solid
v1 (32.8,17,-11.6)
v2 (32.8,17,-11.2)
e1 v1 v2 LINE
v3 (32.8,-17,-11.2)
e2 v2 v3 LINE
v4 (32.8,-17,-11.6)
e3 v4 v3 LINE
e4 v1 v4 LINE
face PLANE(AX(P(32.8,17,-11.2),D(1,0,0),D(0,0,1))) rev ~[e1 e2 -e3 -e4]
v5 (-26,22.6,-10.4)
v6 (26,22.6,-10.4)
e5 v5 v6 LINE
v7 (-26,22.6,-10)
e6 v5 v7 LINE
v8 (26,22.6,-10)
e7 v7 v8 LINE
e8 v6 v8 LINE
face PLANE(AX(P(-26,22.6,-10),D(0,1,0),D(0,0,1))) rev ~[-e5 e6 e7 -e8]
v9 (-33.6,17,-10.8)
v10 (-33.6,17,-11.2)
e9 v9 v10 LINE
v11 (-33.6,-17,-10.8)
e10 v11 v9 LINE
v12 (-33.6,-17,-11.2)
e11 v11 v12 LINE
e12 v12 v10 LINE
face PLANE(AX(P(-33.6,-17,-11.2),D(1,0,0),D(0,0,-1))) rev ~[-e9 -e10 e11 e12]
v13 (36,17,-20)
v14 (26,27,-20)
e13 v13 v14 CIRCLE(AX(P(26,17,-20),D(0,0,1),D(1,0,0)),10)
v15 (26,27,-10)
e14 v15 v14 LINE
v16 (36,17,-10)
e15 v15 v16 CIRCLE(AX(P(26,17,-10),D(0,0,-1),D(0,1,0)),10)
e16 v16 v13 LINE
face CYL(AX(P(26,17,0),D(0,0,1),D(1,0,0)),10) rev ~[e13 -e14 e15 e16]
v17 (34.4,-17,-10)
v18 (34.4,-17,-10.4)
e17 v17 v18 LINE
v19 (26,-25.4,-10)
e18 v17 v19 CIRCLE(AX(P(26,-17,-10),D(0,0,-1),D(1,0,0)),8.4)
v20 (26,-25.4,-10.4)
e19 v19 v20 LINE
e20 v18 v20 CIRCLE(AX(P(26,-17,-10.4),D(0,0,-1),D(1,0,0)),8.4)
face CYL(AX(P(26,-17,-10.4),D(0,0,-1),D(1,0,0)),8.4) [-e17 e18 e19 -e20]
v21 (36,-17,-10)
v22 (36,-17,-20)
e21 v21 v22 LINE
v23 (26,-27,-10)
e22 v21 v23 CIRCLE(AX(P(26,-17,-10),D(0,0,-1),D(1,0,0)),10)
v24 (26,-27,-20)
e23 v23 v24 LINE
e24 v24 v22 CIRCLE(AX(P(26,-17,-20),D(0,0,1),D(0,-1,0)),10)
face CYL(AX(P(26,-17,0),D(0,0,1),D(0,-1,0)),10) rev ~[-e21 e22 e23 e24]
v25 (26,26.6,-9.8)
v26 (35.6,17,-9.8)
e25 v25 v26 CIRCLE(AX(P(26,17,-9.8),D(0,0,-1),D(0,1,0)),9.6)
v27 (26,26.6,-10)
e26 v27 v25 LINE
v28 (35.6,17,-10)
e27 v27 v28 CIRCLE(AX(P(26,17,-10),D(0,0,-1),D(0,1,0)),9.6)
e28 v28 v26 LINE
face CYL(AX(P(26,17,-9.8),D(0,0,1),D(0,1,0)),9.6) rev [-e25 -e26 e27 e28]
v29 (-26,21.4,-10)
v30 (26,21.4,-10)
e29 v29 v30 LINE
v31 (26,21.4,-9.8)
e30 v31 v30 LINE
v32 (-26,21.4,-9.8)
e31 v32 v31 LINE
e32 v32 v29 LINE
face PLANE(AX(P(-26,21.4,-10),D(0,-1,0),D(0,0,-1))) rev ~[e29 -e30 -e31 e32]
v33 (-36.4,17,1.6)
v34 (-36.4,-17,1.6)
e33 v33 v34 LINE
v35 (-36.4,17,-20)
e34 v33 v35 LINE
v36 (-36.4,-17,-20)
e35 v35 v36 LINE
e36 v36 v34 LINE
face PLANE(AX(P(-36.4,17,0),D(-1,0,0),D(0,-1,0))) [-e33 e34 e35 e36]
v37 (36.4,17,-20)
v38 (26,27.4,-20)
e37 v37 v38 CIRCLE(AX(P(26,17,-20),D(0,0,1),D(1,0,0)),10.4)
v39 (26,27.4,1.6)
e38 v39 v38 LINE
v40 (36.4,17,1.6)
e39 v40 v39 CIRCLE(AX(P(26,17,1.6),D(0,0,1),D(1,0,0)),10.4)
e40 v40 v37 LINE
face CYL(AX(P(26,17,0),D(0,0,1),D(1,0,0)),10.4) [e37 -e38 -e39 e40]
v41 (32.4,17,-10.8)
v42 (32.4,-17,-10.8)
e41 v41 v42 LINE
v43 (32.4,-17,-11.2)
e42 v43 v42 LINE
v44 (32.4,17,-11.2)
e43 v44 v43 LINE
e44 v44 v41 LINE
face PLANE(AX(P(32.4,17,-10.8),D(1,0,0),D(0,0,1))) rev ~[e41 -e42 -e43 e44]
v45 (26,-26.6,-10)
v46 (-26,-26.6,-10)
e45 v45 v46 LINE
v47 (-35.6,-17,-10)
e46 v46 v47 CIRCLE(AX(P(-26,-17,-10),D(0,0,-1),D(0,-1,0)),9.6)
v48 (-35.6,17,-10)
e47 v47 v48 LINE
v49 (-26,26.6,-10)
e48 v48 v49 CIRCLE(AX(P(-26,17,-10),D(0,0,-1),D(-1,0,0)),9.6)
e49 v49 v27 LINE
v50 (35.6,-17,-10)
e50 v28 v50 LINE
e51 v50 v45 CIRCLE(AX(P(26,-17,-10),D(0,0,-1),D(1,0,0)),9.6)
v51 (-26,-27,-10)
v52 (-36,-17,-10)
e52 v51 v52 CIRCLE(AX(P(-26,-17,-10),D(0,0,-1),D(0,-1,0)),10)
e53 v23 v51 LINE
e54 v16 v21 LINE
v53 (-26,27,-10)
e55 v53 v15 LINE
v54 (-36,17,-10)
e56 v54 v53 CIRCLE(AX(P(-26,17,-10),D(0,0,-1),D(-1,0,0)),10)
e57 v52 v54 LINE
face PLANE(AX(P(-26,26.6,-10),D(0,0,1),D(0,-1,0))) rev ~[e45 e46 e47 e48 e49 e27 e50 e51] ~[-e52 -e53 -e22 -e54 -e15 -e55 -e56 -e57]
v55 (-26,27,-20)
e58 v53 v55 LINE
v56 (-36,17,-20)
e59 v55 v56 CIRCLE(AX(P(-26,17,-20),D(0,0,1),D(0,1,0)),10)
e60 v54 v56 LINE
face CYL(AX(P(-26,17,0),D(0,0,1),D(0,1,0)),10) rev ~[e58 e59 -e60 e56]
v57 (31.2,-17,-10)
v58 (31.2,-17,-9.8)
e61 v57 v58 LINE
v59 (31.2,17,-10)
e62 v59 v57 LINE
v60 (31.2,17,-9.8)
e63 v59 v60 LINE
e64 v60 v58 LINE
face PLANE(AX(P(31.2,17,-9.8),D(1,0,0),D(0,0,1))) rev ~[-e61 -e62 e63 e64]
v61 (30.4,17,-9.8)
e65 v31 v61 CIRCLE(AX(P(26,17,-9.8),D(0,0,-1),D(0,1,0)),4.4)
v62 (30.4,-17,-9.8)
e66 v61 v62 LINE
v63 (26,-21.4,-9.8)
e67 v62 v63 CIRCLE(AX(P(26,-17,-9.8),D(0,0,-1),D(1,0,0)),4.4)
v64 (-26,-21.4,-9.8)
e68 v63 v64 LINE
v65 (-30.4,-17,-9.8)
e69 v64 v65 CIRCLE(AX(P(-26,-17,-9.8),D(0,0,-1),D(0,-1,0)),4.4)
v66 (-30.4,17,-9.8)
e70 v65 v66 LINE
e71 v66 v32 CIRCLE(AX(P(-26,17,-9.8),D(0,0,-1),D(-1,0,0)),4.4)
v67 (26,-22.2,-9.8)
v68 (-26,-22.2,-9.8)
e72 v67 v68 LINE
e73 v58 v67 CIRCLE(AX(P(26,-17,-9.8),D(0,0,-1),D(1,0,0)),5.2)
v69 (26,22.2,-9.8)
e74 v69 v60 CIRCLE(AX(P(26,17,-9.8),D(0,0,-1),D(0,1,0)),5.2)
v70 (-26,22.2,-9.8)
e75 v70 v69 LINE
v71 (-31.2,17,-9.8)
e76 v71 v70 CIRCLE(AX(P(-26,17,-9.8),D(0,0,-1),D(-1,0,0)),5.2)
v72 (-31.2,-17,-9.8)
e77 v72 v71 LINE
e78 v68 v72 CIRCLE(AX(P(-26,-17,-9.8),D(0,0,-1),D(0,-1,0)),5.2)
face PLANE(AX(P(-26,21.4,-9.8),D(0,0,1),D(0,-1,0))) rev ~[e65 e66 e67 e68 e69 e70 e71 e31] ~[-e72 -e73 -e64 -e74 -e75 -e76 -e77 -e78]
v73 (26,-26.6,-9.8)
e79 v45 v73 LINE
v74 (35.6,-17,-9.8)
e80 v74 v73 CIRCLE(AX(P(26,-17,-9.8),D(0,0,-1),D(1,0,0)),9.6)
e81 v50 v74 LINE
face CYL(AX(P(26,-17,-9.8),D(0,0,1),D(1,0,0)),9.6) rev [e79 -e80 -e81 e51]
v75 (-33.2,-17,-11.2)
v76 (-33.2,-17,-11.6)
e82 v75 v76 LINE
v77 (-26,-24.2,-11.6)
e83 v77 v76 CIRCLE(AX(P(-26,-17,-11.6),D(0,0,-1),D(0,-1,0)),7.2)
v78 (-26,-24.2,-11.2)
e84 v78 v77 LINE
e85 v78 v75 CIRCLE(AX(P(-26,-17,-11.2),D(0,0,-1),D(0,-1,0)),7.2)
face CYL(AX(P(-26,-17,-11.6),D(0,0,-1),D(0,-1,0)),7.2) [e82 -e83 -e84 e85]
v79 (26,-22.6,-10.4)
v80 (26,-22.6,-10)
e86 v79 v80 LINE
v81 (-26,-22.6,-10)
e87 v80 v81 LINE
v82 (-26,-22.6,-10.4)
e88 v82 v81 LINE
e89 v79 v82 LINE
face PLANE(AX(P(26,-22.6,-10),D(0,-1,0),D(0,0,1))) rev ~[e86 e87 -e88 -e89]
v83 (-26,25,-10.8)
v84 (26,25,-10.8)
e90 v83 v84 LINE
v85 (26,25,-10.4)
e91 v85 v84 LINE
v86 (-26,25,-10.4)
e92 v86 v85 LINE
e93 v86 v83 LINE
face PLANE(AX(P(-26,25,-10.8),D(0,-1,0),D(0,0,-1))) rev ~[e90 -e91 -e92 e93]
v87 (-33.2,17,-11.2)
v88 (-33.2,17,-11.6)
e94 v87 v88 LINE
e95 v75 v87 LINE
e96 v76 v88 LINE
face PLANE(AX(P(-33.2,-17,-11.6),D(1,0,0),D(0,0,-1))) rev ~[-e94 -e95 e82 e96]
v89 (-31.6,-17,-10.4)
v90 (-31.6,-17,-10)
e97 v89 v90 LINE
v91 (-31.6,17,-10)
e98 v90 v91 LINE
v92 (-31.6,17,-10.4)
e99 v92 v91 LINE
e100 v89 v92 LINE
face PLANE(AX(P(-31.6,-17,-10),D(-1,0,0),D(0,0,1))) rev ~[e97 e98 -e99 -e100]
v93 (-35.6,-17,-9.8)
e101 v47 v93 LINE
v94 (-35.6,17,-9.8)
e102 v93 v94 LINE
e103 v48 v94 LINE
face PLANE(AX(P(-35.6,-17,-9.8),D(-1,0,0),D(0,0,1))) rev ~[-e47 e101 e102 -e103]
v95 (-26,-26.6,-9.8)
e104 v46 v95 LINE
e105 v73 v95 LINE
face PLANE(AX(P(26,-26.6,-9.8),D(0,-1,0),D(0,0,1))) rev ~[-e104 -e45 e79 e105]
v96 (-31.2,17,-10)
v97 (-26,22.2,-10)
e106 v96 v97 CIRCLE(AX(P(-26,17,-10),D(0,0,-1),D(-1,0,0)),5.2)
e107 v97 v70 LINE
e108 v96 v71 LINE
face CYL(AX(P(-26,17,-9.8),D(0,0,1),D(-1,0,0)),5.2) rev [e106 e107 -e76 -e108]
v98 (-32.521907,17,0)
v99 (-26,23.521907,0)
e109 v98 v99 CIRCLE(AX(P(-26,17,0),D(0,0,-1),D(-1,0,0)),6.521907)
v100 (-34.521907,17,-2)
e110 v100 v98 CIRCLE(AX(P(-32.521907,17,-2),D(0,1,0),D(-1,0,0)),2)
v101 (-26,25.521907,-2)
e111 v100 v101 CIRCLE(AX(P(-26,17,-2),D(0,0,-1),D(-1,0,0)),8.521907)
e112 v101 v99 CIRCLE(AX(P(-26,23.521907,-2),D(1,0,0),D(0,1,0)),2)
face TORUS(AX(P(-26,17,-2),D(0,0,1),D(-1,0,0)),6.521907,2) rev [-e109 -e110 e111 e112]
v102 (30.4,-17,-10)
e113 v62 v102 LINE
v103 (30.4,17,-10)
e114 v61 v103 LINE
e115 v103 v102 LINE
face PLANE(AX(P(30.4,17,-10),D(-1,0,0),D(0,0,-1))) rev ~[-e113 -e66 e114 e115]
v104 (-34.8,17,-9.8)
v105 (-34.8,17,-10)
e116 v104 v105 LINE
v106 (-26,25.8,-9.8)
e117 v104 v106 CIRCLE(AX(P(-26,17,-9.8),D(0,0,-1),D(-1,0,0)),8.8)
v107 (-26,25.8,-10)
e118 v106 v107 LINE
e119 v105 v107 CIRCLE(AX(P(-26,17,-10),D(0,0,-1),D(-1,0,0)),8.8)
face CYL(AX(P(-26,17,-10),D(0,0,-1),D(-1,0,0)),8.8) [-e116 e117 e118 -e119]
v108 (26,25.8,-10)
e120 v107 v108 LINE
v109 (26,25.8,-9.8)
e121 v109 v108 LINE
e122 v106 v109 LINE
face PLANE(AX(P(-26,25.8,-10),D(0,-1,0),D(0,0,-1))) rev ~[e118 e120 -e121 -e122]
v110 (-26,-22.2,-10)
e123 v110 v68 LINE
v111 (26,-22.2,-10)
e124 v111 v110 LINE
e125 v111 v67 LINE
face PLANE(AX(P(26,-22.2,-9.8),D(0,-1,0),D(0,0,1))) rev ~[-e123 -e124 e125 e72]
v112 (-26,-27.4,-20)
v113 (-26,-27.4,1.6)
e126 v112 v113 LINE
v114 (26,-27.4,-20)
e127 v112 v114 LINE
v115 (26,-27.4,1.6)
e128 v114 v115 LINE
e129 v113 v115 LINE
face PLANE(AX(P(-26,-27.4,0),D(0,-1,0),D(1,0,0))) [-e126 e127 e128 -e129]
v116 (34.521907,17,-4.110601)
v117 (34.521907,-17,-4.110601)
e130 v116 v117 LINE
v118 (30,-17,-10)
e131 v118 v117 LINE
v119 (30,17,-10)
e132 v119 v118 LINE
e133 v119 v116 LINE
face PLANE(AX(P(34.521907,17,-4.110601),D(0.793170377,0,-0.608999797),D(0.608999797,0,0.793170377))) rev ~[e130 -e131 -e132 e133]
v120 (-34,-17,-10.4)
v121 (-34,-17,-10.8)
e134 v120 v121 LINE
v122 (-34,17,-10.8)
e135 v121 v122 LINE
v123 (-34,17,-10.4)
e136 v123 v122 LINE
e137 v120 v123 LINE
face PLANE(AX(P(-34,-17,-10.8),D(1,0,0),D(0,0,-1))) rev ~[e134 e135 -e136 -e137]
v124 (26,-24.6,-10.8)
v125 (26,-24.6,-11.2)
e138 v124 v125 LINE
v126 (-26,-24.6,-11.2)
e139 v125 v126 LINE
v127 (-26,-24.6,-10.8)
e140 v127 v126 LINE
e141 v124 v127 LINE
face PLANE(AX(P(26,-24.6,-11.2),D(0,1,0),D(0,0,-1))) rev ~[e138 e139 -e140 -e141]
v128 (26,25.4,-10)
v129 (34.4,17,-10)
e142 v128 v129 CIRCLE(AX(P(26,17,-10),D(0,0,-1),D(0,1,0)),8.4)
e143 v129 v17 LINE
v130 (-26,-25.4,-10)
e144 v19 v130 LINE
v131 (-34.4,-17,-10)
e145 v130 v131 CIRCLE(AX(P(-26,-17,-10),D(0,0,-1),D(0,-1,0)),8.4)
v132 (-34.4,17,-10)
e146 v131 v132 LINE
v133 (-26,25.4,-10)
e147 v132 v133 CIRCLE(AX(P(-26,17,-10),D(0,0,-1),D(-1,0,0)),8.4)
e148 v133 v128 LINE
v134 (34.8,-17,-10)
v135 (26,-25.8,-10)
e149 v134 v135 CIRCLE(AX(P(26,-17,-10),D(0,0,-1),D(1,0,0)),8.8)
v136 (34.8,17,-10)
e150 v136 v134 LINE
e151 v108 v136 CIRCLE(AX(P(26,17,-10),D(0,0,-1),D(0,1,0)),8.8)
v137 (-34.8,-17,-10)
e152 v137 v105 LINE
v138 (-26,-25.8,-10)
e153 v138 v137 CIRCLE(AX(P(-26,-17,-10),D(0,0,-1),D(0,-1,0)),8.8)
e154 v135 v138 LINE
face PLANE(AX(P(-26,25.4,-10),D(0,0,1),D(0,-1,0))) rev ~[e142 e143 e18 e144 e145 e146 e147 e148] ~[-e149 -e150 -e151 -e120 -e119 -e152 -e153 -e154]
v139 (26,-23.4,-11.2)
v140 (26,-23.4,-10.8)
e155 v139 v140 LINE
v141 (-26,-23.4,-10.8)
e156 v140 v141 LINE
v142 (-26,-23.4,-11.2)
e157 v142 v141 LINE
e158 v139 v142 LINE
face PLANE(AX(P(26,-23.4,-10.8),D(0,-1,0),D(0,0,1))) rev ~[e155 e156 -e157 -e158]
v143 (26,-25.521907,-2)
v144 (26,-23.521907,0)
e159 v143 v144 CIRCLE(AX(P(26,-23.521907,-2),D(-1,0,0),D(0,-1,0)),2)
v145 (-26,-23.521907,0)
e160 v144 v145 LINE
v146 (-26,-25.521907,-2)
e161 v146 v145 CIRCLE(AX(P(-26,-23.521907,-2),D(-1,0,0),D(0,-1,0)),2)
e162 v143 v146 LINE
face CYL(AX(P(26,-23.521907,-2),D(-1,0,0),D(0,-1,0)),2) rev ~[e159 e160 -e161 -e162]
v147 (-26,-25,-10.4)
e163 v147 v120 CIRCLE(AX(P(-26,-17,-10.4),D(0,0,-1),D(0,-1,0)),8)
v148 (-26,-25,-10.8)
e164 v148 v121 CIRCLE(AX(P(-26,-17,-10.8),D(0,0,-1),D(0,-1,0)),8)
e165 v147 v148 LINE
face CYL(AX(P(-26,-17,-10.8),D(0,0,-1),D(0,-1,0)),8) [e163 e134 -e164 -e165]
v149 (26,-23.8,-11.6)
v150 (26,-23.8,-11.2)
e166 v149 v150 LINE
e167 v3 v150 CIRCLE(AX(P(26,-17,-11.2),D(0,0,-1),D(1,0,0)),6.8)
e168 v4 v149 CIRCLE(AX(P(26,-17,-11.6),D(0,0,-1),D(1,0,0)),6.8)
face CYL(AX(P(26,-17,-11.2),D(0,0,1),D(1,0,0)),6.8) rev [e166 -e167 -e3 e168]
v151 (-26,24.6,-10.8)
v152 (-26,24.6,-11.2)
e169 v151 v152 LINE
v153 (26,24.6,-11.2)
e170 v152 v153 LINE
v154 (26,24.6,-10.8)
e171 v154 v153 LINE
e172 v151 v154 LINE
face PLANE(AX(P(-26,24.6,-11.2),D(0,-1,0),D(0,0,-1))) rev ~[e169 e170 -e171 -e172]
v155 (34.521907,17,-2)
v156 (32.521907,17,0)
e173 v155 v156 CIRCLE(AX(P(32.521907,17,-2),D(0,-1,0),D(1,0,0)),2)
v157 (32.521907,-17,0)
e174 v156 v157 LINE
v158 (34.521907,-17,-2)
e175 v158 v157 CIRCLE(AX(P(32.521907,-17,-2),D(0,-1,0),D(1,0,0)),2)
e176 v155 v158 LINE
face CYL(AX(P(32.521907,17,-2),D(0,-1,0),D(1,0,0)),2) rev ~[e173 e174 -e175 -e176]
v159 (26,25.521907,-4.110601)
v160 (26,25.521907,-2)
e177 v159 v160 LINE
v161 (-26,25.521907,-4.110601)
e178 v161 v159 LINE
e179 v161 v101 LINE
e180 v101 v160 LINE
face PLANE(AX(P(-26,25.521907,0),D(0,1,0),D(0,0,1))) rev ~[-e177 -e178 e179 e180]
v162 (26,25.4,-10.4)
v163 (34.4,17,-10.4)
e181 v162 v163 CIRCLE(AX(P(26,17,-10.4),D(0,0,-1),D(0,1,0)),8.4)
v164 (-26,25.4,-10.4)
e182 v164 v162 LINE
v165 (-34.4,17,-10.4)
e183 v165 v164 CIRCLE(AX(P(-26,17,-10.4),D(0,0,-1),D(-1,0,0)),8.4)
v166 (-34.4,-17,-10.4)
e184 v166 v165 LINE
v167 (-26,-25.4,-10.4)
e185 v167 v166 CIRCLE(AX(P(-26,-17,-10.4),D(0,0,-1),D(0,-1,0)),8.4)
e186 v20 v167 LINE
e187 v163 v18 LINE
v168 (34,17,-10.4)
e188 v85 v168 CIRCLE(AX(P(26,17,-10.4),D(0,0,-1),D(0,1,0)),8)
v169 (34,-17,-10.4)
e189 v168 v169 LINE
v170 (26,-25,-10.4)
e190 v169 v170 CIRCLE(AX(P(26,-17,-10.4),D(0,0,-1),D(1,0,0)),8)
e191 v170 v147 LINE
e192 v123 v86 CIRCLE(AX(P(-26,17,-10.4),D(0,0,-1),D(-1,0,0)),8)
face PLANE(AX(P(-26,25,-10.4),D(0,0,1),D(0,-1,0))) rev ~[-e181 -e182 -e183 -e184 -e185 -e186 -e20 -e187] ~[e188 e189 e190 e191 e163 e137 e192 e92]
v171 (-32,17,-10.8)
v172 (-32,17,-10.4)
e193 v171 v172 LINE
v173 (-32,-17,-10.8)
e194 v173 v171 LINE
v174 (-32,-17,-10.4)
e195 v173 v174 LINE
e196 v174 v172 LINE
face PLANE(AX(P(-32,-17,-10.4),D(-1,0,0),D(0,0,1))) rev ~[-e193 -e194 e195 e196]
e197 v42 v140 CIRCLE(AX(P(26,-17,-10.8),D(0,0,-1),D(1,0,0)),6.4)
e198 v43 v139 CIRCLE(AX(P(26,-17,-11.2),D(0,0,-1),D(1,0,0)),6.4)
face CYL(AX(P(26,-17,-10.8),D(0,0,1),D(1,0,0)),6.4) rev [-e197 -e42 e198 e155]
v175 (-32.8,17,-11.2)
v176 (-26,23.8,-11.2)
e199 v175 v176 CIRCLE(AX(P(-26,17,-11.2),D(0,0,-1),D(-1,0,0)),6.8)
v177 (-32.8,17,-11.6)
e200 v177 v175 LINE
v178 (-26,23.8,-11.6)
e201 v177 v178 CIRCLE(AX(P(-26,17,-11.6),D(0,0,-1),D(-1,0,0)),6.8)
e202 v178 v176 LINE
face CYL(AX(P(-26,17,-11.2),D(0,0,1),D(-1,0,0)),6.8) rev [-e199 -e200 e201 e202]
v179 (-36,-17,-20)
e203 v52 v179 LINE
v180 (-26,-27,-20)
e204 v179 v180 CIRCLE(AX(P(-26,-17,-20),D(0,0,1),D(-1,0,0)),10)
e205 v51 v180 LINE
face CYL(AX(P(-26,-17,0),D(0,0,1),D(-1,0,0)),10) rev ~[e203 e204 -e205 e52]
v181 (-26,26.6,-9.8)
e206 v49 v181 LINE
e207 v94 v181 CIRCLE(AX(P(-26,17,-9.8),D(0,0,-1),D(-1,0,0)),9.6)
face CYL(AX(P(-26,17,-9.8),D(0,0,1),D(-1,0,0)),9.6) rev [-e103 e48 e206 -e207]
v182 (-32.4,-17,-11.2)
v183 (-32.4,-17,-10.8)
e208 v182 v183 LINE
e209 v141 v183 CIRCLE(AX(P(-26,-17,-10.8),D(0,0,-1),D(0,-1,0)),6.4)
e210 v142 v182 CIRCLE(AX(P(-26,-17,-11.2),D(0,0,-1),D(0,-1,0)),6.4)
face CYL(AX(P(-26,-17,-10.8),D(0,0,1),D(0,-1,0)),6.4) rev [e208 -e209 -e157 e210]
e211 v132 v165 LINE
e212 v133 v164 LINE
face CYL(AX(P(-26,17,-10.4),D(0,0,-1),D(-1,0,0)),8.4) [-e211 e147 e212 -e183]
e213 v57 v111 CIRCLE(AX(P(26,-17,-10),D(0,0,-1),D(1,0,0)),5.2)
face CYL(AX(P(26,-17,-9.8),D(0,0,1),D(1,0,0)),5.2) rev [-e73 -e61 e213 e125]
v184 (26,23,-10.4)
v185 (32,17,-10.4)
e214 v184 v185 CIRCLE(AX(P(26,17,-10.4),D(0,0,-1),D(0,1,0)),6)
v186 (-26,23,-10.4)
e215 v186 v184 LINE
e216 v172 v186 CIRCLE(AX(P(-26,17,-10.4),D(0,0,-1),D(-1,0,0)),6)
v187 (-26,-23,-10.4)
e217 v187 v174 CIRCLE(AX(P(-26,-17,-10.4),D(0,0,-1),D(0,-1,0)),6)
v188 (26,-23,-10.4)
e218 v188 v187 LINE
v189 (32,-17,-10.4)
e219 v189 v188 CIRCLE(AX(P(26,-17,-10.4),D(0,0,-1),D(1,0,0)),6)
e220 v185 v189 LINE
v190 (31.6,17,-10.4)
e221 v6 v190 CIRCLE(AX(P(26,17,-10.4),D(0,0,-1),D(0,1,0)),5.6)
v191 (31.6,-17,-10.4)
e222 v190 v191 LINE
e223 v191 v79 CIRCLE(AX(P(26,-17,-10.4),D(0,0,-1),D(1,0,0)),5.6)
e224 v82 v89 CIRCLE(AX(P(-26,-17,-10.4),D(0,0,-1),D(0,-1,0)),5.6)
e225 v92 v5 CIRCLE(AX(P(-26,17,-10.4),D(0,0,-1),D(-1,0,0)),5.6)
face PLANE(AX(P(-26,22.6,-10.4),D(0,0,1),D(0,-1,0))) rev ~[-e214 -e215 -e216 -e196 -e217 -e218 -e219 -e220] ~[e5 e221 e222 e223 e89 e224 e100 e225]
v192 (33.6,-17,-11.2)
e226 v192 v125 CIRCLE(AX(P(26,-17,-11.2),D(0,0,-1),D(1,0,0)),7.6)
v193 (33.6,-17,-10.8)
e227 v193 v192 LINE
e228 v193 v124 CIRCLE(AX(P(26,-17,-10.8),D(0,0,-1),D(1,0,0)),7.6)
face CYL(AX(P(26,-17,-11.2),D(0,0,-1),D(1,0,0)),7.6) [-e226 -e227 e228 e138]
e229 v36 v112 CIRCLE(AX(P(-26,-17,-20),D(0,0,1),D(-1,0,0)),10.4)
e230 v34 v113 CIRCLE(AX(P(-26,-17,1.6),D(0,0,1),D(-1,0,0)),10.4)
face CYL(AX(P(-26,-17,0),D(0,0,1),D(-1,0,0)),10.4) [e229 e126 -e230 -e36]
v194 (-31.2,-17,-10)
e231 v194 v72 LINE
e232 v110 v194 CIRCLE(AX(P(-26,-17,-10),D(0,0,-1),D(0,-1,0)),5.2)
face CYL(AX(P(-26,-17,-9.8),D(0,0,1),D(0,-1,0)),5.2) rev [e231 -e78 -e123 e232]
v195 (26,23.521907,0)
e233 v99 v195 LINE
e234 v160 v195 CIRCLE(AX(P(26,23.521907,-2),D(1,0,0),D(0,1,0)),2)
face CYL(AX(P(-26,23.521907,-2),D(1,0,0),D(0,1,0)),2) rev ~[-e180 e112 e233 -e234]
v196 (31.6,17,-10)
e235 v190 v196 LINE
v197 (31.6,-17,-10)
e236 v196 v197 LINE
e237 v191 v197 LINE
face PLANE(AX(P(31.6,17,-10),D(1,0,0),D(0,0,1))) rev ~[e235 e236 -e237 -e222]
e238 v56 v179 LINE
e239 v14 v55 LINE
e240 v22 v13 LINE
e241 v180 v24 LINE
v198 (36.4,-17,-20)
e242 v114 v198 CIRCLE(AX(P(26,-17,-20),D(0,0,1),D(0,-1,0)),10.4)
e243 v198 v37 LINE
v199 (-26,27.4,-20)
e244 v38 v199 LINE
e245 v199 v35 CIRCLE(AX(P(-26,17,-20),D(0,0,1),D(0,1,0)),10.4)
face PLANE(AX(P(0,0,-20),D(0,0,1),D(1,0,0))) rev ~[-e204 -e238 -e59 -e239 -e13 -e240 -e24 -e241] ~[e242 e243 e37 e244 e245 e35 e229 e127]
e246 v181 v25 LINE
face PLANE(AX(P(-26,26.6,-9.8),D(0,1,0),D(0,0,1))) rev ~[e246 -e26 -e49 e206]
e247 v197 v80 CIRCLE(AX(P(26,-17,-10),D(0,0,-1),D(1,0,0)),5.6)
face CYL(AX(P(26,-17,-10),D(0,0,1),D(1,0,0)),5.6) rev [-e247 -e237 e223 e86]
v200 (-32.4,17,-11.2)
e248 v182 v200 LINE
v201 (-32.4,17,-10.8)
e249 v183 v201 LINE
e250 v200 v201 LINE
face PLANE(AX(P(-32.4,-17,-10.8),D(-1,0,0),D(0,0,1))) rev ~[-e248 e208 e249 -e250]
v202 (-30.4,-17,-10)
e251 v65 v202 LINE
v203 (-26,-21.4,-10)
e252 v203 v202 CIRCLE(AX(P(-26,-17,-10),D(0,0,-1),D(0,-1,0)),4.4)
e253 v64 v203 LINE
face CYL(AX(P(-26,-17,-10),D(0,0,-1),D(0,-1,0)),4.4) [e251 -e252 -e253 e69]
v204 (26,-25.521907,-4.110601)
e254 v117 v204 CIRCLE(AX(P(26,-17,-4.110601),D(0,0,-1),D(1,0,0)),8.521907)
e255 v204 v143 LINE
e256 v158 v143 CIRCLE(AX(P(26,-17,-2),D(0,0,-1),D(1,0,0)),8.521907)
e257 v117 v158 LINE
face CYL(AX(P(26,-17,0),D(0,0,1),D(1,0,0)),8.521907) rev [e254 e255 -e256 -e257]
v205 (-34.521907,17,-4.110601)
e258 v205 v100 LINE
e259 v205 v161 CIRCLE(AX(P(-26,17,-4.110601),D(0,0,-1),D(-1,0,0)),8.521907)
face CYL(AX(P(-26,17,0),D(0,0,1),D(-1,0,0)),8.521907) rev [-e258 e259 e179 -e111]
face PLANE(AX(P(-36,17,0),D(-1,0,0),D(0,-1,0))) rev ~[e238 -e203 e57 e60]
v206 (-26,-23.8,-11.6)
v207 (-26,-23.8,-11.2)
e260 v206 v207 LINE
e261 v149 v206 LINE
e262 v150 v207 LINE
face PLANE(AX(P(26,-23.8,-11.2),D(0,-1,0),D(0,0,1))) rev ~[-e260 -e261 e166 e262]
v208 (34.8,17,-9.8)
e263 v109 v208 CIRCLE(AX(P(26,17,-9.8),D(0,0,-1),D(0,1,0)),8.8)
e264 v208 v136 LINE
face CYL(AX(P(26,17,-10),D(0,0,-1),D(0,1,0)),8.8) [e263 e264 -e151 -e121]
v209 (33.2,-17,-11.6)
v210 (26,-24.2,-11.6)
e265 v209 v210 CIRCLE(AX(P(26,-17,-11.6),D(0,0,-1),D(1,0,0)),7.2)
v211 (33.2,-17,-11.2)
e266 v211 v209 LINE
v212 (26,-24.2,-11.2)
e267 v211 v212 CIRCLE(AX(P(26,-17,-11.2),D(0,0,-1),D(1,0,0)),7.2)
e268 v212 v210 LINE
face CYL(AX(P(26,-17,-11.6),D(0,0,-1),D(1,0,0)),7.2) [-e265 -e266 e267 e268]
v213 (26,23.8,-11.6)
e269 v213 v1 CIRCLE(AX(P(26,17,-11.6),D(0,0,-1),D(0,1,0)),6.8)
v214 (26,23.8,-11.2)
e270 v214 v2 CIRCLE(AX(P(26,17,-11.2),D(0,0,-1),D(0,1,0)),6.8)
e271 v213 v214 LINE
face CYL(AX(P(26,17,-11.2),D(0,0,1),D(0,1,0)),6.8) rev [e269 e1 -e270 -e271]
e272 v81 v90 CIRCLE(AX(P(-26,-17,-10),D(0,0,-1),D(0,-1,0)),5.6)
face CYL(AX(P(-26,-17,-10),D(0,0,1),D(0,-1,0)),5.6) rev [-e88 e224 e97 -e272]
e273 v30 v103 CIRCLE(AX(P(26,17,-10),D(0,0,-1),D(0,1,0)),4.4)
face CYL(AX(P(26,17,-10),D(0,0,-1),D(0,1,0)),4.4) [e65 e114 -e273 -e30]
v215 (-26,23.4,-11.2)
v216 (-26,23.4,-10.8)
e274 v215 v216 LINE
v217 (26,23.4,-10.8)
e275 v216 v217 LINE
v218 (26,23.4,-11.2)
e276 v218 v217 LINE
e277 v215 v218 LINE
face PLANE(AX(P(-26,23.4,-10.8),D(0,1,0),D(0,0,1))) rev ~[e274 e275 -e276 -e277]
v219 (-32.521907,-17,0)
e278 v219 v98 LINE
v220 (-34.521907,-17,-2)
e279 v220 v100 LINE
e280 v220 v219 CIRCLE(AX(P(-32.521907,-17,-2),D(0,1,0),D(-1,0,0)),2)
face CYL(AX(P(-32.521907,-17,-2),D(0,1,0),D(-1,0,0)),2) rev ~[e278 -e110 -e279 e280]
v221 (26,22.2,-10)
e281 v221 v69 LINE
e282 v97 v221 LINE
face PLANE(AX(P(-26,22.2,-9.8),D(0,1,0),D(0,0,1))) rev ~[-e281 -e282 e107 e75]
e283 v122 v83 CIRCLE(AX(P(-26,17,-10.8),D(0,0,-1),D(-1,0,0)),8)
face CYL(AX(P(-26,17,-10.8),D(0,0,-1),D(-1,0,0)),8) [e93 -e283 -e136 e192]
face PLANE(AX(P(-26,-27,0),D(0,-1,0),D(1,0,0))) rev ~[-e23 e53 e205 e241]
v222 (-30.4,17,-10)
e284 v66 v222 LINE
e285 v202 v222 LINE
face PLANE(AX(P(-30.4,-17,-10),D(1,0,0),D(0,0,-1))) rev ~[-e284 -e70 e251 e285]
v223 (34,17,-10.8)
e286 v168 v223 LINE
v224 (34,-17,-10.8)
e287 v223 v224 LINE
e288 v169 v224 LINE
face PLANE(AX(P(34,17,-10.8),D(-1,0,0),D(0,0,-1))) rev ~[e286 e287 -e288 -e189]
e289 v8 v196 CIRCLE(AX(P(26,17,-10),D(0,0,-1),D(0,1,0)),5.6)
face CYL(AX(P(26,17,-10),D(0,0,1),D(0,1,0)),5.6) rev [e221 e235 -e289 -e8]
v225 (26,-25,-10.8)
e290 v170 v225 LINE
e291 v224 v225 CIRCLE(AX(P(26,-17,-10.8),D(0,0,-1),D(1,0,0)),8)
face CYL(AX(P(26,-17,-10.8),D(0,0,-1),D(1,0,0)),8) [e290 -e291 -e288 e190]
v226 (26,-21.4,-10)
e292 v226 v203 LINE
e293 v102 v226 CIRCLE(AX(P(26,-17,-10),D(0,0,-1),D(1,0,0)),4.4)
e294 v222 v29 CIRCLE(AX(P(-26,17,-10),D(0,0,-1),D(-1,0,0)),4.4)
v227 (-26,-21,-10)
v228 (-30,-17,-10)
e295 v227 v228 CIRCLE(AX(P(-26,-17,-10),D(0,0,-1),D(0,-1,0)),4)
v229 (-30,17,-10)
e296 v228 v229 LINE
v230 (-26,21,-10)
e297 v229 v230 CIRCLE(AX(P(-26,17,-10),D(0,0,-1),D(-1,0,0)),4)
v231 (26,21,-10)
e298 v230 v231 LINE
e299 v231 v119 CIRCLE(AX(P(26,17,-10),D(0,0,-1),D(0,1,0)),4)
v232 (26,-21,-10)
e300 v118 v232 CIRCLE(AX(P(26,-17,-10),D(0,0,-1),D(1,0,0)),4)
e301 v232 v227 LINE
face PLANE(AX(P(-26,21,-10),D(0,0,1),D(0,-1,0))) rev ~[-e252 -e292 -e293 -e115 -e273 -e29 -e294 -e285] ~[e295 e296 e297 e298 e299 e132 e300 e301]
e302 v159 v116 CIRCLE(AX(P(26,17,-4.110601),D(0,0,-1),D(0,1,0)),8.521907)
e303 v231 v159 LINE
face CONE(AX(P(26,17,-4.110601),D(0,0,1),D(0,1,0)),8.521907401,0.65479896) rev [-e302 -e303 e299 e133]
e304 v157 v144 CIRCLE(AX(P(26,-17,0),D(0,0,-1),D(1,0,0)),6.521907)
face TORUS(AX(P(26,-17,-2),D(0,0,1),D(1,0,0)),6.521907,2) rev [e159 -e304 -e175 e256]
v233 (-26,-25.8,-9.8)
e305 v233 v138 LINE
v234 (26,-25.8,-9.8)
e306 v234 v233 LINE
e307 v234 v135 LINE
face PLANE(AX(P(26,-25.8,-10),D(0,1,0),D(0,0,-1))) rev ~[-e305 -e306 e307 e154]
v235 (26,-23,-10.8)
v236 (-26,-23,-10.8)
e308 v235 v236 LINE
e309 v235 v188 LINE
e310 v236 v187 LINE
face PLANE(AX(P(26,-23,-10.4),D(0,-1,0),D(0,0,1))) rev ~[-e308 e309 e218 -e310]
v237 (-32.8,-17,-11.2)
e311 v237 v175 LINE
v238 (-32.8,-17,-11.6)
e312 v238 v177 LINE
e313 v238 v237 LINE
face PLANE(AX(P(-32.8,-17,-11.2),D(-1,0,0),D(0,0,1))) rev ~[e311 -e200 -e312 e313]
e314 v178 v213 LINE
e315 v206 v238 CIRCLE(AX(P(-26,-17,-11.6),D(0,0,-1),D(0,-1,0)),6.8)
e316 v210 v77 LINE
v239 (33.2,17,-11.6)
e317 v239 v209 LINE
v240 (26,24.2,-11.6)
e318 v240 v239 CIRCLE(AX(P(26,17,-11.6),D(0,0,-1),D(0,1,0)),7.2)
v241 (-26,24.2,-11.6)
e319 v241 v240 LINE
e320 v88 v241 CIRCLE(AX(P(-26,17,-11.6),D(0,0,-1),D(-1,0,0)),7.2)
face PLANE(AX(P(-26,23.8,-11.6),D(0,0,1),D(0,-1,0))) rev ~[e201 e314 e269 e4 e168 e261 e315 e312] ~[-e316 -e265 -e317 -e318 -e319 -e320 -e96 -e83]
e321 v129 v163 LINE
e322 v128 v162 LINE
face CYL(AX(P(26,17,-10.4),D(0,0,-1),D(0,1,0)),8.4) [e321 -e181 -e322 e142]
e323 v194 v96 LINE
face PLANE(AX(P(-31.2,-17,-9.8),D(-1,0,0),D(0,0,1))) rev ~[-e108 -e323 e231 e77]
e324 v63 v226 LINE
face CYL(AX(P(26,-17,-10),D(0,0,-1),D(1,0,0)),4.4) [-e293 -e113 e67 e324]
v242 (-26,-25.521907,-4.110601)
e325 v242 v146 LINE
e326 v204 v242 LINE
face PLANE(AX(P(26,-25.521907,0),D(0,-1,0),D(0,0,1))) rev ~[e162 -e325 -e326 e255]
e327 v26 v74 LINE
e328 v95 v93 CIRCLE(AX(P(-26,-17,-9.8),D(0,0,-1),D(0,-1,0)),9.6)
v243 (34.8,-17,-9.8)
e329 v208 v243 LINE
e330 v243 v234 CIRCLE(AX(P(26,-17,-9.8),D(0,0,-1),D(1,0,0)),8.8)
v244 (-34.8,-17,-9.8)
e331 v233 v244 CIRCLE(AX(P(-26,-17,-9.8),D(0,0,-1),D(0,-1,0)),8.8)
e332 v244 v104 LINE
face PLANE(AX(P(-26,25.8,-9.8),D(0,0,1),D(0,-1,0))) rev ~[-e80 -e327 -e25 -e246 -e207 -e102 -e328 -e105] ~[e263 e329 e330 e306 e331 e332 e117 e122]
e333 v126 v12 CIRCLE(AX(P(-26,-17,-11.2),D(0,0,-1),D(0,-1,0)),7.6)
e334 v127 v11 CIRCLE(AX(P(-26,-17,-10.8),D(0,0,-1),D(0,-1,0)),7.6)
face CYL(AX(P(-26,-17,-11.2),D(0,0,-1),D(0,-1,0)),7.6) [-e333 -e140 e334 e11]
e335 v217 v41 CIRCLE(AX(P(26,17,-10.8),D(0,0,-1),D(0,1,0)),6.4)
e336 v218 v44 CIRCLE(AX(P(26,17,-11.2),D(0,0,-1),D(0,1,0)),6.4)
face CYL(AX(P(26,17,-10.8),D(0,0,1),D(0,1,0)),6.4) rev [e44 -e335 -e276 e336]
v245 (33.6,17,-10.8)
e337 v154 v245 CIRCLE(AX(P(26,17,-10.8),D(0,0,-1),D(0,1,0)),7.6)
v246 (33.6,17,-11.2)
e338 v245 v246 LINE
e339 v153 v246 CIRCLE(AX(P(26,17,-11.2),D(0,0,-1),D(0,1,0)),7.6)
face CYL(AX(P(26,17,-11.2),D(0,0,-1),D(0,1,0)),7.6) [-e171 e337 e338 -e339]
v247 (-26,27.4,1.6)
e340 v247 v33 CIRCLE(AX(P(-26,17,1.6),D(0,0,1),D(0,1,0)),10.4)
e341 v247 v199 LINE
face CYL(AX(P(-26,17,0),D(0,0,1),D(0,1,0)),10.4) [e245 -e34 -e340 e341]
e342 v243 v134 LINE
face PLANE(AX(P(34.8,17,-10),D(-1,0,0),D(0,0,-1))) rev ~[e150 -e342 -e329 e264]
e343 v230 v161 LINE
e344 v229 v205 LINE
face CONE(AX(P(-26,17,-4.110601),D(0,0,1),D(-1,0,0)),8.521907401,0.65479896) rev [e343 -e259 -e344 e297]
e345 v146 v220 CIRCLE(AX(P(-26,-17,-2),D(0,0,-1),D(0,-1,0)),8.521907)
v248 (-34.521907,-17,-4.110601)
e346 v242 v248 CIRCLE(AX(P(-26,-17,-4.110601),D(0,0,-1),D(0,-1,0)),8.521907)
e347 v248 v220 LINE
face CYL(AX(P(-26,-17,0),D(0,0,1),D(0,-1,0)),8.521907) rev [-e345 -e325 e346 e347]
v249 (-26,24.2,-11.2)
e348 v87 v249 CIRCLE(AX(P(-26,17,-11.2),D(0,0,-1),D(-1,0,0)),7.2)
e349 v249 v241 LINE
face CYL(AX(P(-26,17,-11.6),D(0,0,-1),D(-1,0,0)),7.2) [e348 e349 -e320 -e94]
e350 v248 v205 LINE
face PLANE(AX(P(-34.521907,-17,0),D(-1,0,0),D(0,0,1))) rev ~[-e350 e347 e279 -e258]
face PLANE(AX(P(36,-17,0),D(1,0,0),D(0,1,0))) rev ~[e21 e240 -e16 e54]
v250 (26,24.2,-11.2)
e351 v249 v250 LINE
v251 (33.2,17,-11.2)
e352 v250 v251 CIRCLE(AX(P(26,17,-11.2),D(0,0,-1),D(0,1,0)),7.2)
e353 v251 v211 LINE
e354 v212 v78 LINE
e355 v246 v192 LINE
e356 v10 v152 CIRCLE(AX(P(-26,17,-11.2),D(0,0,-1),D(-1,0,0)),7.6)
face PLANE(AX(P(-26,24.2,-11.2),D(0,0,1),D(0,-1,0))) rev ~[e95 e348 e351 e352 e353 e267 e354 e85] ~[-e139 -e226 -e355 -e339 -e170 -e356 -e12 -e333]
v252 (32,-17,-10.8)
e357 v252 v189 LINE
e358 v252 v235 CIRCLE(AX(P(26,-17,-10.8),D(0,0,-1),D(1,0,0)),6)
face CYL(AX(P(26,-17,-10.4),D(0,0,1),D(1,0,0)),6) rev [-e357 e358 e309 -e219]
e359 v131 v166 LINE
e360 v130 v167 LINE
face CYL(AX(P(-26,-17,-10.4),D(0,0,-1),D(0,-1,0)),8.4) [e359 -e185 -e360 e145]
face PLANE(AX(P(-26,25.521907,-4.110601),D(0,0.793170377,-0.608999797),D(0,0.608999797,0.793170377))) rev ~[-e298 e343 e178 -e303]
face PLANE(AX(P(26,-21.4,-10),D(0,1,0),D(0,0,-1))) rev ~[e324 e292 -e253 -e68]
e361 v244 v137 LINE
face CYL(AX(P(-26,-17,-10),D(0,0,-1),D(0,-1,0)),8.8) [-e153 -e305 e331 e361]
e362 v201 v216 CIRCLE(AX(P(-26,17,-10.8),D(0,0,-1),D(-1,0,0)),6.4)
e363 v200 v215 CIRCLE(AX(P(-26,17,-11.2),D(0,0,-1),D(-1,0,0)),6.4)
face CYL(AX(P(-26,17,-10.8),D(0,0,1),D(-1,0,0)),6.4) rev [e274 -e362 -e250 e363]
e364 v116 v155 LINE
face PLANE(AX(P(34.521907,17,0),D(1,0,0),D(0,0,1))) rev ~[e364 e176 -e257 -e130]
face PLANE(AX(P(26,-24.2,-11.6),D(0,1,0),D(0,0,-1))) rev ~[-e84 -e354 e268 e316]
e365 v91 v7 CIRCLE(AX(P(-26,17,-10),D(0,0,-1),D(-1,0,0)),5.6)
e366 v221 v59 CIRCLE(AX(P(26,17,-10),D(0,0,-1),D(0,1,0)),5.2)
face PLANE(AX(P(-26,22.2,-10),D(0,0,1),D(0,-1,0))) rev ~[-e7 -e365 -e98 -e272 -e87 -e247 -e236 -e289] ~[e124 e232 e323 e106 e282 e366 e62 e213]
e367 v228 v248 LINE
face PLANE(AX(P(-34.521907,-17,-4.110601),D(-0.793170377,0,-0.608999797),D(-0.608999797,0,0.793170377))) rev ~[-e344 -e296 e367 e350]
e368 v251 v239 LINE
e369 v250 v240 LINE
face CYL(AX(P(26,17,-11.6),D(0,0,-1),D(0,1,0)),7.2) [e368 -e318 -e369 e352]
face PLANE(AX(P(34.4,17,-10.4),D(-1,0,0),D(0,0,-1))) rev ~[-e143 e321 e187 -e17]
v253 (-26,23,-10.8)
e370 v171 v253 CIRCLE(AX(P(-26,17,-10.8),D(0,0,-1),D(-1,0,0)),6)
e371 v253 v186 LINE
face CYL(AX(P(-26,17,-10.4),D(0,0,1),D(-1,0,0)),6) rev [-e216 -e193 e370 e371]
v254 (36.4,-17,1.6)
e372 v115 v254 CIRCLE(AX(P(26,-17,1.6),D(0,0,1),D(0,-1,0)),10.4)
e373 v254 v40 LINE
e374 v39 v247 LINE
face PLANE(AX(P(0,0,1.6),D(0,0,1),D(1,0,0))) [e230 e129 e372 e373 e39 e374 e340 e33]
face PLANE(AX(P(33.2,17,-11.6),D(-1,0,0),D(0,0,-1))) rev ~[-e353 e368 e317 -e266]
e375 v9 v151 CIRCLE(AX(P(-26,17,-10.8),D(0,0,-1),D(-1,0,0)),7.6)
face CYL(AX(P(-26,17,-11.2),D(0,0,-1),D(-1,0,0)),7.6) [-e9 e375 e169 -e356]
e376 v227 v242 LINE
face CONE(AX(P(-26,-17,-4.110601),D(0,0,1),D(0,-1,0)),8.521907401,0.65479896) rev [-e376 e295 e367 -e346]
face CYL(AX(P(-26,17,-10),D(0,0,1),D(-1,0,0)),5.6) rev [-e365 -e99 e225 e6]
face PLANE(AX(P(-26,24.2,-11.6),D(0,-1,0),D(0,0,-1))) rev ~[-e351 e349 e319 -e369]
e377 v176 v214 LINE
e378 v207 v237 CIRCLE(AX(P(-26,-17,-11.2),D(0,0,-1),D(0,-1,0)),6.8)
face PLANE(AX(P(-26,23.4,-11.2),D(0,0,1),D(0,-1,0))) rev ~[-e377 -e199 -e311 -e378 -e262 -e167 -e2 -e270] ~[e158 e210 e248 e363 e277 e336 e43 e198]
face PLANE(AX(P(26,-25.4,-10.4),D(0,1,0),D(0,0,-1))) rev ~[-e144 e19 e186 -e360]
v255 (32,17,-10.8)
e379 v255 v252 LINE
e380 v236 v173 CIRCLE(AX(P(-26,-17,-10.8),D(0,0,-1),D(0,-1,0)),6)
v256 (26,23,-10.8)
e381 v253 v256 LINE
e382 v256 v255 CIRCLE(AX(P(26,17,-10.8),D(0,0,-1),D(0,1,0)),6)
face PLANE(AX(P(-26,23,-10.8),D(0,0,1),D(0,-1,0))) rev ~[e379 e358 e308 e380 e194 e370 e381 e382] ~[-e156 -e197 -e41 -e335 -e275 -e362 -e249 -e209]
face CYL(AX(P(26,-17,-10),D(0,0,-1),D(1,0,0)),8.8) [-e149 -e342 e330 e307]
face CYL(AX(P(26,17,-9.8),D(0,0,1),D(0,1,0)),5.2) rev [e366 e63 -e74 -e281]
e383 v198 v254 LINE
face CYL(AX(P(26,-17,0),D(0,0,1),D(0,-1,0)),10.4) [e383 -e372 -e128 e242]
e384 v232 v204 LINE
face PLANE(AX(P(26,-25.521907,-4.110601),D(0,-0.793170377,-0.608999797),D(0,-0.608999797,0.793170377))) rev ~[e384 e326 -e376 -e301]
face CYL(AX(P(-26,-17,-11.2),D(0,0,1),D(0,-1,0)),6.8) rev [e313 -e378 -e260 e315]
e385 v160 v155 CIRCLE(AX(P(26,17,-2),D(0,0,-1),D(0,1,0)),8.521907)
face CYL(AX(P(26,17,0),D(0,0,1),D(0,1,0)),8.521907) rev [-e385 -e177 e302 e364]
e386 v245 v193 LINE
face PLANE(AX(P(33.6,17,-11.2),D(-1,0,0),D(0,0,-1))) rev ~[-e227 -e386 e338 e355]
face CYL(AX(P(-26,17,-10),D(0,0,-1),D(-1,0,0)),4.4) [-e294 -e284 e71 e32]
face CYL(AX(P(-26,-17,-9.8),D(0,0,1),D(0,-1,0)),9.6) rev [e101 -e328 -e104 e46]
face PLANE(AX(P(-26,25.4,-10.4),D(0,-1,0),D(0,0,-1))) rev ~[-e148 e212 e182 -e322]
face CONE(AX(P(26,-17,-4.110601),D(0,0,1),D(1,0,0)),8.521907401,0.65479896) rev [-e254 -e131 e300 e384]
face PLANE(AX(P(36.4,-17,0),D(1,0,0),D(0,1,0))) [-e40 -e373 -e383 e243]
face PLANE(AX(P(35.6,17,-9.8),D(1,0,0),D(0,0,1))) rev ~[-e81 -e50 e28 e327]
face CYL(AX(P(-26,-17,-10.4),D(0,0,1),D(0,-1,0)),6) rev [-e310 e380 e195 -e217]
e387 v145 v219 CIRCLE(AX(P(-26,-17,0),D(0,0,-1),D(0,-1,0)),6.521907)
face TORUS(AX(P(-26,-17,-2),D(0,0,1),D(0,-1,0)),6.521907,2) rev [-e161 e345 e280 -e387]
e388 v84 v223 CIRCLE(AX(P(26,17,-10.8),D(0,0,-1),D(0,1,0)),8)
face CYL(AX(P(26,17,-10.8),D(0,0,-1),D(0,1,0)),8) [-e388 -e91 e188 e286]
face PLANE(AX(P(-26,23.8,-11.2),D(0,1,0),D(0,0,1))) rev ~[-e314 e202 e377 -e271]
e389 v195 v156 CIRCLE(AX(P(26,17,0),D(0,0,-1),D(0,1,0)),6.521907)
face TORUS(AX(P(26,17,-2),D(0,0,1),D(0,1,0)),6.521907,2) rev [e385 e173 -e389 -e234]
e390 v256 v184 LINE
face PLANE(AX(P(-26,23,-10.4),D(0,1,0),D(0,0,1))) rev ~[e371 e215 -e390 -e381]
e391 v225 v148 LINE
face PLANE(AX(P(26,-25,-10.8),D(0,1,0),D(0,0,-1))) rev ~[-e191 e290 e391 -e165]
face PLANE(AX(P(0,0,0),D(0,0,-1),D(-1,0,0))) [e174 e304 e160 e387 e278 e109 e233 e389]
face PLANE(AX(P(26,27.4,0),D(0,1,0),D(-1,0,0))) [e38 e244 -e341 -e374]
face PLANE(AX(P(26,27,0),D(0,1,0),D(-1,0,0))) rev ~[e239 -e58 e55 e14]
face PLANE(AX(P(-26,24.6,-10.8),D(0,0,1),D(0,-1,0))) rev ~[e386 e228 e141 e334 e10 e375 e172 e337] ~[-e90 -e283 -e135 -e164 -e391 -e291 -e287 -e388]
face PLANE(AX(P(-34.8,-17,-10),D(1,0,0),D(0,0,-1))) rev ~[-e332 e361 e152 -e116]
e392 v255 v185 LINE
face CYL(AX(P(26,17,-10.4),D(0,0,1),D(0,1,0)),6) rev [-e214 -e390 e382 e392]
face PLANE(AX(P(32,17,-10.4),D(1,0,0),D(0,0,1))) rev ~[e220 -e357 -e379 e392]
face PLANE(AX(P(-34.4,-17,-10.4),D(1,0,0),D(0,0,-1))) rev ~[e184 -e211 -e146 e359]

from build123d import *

# Parameters (mm, degrees)
BOSS_EXTRU_1_DEPTH      = 1.6
CONG_1_R                = 2
EXTRU_MINCE1_DEPTH      = 1.6
EXTRU_MINCE1_DEPTH_BACK = 20


with BuildPart() as part:
    # Balayage1: sweep along a path in Esquisse1
    with BuildLine(Plane.XY) as balayage1_path:
        Line((-26, 27), (26, 27))
        ThreePointArc((26, 27), (33.071067812, 24.071067812), (36, 17))
        Line((36, 17), (36, -17))
        ThreePointArc((36, -17), (33.071067812, -24.071067812), (26, -27))
        Line((26, -27), (-26, -27))
        ThreePointArc((-26, -27), (-33.071067812, -24.071067812), (-36, -17))
        Line((-36, -17), (-36, 17))
        ThreePointArc((-36, 17), (-33.071067812, 24.071067812), (-26, 27))
    # profil → Balayage1 (sweep)
    with BuildSketch(Plane(origin=(0, 0, 0), x_dir=(0, 0, -1), z_dir=(1, 0, 0))):
        Polygon((0, -25.521907401), (4.110600662, -25.521907401), (10, -21), (10, -21.4), (9.8, -21.4), (9.8, -22.2), (10, -22.2), (10, -22.6), (10.4, -22.6), (10.4, -23), (10.8, -23), (10.8, -23.4), (11.2, -23.4), (11.2, -23.8), (11.6, -23.8), (11.6, -24.2), (11.2, -24.2), (11.2, -24.6), (10.8, -24.6), (10.8, -25), (10.4, -25), (10.4, -25.4), (10, -25.4), (10, -25.8), (9.8, -25.8), (9.8, -26.6), (10, -26.6), (10, -27), (0, -27), align=None)
    sweep(path=balayage1_path.line)

    # Esquisse1<3> → Boss.-Extru.1 (add)
    with BuildSketch(Plane.XY):
        with BuildLine():
            Line((-26, 27), (26, 27))
            ThreePointArc((26, 27), (33.071067812, 24.071067812), (36, 17))
            Line((36, 17), (36, -17))
            ThreePointArc((36, -17), (33.071067812, -24.071067812), (26, -27))
            Line((26, -27), (-26, -27))
            ThreePointArc((-26, -27), (-33.071067812, -24.071067812), (-36, -17))
            Line((-36, -17), (-36, 17))
            ThreePointArc((-36, 17), (-33.071067812, 24.071067812), (-26, 27))
        make_face()
    extrude(amount=BOSS_EXTRU_1_DEPTH)

    # Congé1
    cong_1_edges = [part.edges().sort_by_distance(p)[0] for p in [
        (34.521907401, 0, 0),
        (32.025898512, -23.025898512, 0),
        (0, -25.521907401, 0),
        (-32.025898512, -23.025898512, 0),
        (-34.521907401, 0, 0),
        (-32.025898512, 23.025898512, 0),
        (0, 25.521907401, 0),
        (0, -25.521907401, 0),
        (32.025898512, 23.025898512, 0),
    ]]
    fillet(cong_1_edges, radius=CONG_1_R)

    # Esquisse2 → Extru.-Mince1 (add, two sides)
    with BuildSketch(Plane.XY) as extru_mince1_sk:
        with BuildLine():
            Line((-36.4, 17), (-36.4, -17))
            ThreePointArc((-36.4, -17), (-33.353910524, -24.353910524), (-26, -27.4))
            Line((-26, -27.4), (26, -27.4))
            ThreePointArc((26, -27.4), (33.353910524, -24.353910524), (36.4, -17))
            Line((36.4, -17), (36.4, 17))
            ThreePointArc((36.4, 17), (33.353910524, 24.353910524), (26, 27.4))
            Line((26, 27.4), (-26, 27.4))
            ThreePointArc((-26, 27.4), (-33.353910524, 24.353910524), (-36.4, 17))
        make_face()
        with BuildLine():
            Line((-36, 17), (-36, -17))
            ThreePointArc((-36, -17), (-33.071067812, -24.071067812), (-26, -27))
            Line((-26, -27), (26, -27))
            ThreePointArc((26, -27), (33.071067812, -24.071067812), (36, -17))
            Line((36, -17), (36, 17))
            ThreePointArc((36, 17), (33.071067812, 24.071067812), (26, 27))
            Line((26, 27), (-26, 27))
            ThreePointArc((-26, 27), (-33.071067812, 24.071067812), (-36, 17))
        make_face(mode=Mode.SUBTRACT)
    extrude(amount=EXTRU_MINCE1_DEPTH)
    extrude(extru_mince1_sk.sketch, amount=-EXTRU_MINCE1_DEPTH_BACK)


solid = part.part
